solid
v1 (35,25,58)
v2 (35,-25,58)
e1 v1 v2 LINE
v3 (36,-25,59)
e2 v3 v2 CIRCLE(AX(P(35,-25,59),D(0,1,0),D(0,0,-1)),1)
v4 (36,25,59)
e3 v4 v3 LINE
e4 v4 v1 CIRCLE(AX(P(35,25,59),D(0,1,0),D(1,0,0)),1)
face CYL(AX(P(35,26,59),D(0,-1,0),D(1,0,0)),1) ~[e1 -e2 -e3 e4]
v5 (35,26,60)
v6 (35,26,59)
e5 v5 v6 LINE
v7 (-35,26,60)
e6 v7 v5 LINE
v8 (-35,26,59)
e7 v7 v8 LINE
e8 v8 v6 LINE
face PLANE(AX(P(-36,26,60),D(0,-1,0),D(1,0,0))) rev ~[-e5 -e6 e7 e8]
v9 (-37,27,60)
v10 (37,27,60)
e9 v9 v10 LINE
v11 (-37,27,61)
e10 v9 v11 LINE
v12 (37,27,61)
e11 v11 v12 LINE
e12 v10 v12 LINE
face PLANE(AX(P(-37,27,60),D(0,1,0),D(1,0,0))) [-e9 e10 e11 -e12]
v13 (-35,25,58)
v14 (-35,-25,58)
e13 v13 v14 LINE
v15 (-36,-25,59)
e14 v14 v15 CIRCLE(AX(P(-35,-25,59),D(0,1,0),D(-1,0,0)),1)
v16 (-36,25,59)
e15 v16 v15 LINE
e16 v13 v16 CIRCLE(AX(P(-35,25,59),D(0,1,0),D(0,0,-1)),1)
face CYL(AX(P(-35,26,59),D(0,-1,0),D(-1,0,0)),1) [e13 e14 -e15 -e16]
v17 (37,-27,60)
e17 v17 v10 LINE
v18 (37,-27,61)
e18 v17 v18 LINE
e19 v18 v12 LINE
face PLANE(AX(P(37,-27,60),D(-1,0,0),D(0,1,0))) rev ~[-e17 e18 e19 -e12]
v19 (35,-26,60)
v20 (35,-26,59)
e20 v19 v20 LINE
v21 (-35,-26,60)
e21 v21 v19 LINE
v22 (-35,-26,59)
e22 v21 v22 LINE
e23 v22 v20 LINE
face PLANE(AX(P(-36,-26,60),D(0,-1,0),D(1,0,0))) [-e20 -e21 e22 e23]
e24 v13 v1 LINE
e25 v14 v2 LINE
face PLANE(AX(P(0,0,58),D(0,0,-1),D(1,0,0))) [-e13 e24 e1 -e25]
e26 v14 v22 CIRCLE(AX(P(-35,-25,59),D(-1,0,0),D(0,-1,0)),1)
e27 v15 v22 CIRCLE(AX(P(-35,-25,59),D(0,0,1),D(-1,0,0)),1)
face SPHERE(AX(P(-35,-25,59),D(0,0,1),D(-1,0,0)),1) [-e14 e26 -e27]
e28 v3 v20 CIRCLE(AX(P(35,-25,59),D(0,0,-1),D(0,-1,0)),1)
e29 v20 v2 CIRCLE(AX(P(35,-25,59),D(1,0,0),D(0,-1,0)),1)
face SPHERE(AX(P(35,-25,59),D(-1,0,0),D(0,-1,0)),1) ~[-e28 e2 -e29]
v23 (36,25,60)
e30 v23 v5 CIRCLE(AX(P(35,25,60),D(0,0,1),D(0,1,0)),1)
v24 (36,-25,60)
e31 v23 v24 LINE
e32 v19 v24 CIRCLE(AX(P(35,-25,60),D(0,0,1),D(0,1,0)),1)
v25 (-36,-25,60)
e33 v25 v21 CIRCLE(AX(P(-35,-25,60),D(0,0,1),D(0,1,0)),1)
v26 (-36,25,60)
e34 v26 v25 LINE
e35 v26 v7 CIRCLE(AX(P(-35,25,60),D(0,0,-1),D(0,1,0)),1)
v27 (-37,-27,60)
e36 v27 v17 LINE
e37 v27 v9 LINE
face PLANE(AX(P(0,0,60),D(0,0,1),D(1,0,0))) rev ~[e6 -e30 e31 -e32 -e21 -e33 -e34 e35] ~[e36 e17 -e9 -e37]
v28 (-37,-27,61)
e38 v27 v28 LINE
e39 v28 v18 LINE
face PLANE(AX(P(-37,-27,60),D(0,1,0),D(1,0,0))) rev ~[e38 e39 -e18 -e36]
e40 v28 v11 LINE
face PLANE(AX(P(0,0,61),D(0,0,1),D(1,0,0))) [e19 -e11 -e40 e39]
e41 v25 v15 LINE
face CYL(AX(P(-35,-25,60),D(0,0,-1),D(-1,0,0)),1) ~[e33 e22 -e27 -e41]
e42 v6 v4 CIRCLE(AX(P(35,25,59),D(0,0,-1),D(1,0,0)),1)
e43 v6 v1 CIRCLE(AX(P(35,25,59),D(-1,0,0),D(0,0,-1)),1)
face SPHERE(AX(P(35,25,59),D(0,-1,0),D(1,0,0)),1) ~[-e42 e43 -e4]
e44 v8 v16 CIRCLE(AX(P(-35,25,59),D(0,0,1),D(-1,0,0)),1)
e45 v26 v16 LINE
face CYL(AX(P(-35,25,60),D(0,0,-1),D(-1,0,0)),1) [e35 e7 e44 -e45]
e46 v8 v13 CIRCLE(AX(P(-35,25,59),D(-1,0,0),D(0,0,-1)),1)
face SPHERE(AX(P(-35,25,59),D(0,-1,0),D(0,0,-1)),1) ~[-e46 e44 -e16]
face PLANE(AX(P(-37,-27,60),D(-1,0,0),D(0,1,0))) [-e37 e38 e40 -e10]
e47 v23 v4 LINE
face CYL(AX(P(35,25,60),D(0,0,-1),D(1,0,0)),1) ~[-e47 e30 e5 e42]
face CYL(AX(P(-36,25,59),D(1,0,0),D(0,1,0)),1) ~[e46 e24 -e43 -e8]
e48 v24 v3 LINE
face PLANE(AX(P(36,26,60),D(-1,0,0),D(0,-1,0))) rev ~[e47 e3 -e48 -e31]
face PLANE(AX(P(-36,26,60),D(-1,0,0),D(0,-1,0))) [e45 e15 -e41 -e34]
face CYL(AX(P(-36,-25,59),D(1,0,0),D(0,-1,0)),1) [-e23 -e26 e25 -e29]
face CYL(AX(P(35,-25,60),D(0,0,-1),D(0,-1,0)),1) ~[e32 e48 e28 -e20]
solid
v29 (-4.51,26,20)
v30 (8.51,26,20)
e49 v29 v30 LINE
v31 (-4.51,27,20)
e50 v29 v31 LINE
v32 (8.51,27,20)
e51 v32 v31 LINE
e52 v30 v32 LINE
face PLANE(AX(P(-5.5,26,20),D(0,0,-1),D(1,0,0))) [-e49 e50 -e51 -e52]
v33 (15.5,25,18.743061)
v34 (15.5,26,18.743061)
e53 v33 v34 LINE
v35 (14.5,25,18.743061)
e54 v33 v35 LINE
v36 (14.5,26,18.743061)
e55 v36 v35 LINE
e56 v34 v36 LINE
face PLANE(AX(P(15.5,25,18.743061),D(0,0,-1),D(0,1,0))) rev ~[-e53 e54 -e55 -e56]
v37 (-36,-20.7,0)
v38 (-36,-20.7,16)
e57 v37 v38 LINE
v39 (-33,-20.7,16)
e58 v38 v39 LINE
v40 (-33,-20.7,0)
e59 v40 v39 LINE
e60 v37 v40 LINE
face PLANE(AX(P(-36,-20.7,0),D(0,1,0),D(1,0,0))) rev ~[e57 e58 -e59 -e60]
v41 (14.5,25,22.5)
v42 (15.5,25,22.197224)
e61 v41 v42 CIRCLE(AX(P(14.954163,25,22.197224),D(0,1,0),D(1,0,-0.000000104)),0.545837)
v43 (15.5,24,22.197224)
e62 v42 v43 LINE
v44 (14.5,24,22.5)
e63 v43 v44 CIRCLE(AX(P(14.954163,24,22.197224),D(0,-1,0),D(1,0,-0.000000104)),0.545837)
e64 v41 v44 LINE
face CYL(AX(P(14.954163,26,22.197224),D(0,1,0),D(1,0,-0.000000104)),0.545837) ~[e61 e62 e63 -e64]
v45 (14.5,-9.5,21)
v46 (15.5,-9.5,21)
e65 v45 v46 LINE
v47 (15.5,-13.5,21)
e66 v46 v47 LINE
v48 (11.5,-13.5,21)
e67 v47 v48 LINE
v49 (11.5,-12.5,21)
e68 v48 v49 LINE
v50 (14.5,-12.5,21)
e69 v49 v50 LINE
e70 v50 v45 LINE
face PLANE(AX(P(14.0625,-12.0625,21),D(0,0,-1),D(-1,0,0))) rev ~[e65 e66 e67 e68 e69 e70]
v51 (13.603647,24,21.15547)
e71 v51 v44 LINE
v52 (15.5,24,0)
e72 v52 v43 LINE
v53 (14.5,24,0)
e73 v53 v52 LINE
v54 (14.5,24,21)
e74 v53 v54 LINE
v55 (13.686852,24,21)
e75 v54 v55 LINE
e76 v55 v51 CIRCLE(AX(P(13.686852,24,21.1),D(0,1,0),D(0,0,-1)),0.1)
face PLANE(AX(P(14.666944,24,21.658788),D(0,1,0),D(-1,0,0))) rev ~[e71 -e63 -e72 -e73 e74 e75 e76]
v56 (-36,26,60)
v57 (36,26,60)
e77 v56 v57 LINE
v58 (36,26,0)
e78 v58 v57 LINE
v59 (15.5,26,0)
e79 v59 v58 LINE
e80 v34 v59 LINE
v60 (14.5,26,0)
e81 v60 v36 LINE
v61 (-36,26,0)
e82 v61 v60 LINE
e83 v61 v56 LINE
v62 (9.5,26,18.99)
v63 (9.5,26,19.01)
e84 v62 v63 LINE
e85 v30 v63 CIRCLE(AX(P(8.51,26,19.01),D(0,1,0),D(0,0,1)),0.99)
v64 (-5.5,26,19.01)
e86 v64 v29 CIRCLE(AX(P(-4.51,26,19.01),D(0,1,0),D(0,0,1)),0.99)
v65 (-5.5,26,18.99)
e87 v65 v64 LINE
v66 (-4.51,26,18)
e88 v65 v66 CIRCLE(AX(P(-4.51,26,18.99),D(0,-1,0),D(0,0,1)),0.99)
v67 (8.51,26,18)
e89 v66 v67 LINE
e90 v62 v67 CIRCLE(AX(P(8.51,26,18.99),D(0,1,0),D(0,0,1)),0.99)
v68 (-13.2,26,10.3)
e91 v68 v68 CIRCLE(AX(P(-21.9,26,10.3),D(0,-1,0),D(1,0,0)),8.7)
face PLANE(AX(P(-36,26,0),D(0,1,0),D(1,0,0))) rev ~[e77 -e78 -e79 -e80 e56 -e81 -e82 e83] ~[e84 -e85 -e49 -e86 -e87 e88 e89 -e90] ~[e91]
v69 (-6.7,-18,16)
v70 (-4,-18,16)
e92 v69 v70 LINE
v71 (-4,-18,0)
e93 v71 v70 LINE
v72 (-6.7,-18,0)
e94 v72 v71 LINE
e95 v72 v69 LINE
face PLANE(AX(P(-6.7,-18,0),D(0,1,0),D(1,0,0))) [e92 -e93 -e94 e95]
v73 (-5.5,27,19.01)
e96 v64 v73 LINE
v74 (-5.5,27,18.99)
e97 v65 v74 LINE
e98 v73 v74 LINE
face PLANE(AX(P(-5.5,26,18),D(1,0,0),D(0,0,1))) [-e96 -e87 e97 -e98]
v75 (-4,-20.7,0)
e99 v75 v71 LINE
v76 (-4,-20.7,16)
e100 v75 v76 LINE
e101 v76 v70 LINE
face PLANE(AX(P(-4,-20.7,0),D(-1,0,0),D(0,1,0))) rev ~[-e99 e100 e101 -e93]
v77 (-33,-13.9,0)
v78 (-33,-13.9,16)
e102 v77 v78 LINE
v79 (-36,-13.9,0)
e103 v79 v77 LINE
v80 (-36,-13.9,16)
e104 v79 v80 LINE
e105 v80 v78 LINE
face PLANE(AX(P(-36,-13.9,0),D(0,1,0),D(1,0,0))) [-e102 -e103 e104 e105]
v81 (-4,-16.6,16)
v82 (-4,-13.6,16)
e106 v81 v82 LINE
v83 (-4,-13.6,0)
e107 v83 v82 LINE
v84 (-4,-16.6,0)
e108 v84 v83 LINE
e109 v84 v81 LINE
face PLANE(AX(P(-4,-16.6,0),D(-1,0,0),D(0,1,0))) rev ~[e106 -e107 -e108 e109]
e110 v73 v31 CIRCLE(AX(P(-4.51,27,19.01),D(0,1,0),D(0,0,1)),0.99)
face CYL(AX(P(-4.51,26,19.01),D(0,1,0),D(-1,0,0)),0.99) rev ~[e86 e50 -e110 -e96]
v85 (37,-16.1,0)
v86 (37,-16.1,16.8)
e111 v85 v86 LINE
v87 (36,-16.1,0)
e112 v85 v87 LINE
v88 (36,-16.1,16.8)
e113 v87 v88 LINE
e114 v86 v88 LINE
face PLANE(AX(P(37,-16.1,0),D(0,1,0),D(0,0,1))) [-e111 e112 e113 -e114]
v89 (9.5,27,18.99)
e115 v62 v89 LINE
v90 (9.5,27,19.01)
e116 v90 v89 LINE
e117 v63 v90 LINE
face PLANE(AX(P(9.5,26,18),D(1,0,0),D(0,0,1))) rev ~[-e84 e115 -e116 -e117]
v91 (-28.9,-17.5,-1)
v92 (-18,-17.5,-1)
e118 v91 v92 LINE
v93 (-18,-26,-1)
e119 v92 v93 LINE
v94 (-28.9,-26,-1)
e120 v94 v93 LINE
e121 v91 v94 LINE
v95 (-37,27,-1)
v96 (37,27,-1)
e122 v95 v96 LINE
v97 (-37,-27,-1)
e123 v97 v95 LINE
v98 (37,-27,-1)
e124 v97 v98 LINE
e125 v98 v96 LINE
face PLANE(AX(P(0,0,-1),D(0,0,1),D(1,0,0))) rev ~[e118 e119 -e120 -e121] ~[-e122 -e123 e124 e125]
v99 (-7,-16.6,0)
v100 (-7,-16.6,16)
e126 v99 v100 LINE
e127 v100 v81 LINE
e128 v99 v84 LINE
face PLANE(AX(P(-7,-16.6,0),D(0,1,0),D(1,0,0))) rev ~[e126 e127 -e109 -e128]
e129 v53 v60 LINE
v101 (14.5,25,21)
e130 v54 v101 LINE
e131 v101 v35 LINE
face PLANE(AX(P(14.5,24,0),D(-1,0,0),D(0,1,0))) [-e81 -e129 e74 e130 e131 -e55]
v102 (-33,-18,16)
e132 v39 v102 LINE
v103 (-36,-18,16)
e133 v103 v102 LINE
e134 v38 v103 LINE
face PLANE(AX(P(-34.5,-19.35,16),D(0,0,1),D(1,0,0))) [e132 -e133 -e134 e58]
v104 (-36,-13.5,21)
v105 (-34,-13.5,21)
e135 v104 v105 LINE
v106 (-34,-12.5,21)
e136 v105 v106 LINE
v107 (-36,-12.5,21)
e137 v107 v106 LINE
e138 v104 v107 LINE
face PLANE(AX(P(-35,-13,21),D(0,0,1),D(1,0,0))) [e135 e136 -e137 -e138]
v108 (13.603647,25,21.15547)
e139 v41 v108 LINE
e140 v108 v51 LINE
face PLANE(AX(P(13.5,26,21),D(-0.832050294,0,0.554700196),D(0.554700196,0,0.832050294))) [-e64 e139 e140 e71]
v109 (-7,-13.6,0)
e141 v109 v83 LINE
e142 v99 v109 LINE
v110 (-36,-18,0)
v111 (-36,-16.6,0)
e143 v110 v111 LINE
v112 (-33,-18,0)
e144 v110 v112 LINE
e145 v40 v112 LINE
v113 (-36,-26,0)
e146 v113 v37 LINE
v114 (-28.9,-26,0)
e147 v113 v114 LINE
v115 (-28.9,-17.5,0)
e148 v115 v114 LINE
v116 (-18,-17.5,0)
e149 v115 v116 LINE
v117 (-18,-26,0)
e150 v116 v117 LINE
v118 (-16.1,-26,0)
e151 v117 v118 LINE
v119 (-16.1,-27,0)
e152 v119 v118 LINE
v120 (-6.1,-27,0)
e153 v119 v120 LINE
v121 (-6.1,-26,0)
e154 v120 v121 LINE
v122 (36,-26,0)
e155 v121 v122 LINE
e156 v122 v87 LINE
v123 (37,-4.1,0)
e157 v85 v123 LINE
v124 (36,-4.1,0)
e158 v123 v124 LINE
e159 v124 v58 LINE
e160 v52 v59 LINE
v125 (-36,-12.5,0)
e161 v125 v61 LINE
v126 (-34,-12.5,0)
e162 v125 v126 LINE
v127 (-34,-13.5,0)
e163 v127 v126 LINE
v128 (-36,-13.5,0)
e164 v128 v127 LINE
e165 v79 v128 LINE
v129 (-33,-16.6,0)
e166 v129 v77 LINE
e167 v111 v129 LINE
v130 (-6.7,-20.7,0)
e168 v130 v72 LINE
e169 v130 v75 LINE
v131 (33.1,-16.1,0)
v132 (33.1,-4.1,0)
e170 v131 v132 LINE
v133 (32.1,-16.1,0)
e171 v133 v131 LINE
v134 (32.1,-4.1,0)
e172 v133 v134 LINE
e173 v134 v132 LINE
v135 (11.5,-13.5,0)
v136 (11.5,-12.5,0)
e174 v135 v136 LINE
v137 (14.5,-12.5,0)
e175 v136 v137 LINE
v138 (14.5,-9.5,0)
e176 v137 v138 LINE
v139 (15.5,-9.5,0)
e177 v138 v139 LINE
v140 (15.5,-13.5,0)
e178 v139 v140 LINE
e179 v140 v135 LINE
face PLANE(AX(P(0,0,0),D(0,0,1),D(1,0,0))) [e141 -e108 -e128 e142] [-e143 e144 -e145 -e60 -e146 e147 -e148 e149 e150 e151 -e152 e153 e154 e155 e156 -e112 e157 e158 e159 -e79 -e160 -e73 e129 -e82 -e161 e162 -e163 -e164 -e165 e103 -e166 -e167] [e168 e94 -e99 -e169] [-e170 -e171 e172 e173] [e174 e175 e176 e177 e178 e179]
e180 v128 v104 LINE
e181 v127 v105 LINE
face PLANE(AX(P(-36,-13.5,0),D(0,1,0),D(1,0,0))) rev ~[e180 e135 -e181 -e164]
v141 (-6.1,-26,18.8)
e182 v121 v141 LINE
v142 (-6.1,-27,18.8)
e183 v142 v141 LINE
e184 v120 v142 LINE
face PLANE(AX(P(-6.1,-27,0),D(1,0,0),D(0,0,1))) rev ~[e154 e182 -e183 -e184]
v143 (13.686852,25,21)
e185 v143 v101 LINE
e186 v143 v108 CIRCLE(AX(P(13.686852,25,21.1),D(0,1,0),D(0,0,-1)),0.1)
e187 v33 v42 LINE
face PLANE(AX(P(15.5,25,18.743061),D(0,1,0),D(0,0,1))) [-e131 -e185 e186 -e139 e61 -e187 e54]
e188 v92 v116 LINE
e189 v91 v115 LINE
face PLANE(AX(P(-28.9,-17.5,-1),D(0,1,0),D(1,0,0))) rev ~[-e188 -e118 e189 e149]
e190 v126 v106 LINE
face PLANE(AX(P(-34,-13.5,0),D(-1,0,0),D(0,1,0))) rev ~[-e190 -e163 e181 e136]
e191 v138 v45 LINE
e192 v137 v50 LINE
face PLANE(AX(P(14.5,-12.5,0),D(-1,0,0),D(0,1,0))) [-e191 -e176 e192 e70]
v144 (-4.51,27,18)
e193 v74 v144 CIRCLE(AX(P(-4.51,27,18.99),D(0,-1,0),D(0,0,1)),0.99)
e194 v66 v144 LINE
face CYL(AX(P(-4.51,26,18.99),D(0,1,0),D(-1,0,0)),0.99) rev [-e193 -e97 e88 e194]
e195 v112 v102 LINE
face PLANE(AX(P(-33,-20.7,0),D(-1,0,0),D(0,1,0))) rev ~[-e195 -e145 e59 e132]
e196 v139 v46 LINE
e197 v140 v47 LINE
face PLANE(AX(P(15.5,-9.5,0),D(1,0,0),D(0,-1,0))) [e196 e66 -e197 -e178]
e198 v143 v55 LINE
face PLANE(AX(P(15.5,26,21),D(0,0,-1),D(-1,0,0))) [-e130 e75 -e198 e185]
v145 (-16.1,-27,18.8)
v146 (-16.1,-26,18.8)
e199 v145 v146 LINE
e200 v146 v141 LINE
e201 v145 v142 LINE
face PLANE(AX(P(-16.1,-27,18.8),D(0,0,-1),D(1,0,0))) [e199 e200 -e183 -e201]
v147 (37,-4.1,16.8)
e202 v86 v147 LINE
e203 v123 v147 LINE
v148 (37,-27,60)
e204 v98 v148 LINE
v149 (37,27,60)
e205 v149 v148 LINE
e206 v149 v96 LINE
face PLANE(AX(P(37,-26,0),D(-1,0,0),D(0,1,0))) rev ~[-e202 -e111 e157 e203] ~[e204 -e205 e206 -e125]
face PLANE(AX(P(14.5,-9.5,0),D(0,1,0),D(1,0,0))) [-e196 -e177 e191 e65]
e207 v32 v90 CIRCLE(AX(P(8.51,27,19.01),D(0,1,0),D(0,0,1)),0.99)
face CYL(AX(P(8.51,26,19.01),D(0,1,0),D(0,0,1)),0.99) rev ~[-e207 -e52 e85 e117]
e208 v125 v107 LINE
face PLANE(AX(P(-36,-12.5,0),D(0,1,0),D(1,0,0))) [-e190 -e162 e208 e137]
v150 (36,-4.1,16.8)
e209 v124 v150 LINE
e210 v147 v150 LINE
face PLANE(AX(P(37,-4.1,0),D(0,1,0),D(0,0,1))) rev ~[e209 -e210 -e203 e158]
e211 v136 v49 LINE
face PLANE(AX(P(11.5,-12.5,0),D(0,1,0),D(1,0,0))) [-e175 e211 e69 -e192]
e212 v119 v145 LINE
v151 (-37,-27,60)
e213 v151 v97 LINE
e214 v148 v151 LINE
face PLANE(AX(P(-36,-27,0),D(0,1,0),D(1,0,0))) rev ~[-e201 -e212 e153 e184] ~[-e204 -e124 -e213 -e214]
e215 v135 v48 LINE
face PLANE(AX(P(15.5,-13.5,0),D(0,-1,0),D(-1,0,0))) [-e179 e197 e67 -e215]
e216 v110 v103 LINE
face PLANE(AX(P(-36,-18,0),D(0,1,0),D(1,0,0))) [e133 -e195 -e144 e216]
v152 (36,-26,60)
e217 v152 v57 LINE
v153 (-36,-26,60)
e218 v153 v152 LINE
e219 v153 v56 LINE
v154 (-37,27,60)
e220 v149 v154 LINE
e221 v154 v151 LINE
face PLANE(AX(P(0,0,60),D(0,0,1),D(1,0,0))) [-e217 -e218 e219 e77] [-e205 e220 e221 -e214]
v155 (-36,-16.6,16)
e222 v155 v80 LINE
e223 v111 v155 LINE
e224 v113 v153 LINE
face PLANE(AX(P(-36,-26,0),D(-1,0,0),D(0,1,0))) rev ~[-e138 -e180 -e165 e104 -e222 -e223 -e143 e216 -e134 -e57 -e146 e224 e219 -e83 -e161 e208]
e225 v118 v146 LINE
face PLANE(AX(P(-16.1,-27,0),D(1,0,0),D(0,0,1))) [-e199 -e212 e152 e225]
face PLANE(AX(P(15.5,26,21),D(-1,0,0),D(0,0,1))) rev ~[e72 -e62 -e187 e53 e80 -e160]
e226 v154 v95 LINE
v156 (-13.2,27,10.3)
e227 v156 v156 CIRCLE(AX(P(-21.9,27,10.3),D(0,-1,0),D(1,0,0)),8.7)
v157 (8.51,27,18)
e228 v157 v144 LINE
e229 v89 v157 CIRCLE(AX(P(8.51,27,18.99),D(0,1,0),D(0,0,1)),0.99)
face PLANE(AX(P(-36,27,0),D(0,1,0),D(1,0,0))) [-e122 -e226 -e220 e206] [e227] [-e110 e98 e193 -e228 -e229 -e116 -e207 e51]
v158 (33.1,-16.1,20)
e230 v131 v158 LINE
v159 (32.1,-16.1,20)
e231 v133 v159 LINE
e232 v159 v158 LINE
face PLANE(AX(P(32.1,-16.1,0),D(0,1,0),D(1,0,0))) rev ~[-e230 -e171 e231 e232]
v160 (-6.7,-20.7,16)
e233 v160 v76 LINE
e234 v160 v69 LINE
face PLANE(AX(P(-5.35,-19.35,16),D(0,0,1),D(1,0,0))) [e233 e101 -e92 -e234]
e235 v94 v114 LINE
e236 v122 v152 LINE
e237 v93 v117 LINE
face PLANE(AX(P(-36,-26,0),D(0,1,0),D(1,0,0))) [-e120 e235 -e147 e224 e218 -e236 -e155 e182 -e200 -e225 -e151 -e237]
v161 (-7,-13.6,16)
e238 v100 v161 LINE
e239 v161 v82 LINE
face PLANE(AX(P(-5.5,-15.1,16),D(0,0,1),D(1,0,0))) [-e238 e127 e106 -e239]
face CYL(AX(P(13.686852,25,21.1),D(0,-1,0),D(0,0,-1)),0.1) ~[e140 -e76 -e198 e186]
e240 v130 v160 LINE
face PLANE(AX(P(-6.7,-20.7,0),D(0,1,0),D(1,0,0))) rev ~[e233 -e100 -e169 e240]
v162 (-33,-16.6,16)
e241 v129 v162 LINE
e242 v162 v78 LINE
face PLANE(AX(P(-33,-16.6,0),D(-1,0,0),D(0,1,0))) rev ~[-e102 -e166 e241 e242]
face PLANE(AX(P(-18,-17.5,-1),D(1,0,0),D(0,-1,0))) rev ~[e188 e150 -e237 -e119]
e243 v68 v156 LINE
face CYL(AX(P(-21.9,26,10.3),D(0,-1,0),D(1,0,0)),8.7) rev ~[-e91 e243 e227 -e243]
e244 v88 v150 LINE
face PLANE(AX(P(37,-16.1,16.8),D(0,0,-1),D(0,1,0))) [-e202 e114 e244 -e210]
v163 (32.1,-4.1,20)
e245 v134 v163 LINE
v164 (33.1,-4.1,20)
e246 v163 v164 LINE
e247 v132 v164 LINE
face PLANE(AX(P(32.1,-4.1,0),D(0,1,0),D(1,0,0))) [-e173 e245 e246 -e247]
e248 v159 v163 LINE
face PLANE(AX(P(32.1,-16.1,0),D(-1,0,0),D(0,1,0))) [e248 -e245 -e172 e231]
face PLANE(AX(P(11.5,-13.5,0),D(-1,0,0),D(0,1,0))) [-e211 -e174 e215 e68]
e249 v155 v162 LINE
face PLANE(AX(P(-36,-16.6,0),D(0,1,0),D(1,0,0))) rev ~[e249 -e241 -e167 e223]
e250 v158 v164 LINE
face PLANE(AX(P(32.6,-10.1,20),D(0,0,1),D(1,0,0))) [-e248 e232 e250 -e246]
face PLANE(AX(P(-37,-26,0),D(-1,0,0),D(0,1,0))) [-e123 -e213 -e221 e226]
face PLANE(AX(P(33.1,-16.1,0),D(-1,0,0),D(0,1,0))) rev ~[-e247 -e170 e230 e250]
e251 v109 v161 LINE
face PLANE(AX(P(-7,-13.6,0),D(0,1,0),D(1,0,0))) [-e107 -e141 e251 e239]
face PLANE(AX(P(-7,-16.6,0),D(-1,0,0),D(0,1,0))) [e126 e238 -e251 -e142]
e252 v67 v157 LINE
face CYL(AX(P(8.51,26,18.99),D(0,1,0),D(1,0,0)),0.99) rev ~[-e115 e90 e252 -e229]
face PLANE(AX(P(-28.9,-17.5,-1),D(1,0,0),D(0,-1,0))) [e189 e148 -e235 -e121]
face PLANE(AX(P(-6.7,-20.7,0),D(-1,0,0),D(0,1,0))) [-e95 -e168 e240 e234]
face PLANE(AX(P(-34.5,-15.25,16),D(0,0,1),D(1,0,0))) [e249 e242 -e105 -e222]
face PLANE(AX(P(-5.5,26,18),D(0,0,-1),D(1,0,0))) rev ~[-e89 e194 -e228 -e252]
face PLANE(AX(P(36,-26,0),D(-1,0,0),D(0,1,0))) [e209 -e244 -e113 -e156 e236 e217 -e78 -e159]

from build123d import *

# Parameters (mm, degrees)
SKETCH_W        = 72
SKETCH_H        = 52
PAD_DEPTH       = 60
THICKNESS_T     = 1
SKETCH002_W     = 1
SKETCH002_H     = 2
SKETCH002_W_2   = 2
SKETCH002_H_2   = 1
PAD001_DEPTH    = 21
SKETCH003_R     = 8.7
SKETCH003_W     = 15
SKETCH003_H     = 2
POCKET_DEPTH    = 5
FILLET_R        = 0.99
PAD002_DEPTH    = 2
SKETCH005_W     = 1
SKETCH005_H     = 4
POCKET001_DEPTH = 2
FILLET001_R     = 0.1
SKETCH006_W     = 2.7
SKETCH006_H     = 2.7
SKETCH006_W_2   = 3
SKETCH006_H_2   = 3
PAD003_DEPTH    = 16
SKETCH011_W     = 10
SKETCH011_H     = 18.8
POCKET002_DEPTH = 1
SKETCH012_W     = 10.9
SKETCH012_H     = 8.5
POCKET003_DEPTH = 1
SKETCH013_W     = 12
SKETCH013_H     = 16.8
POCKET004_DEPTH = 1
SKETCH014_W     = 1
SKETCH014_H     = 12
PAD006_DEPTH    = 20
SKETCH009_W     = 74
SKETCH009_H     = 54
PAD004_DEPTH    = 1
SKETCH010_W     = 72
SKETCH010_H     = 52
PAD005_DEPTH    = 2
FILLET002_R     = 1


with BuildPart() as box:
    # Sketch → Pad (new body)
    with BuildSketch(Plane.XY):
        Rectangle(SKETCH_W, SKETCH_H)
    extrude(amount=PAD_DEPTH)

    # Thickness
    thickness_openings = [box.faces().sort_by_distance(p)[0] for p in [
        (0, 0, 60),
    ]]
    offset(amount=THICKNESS_T, openings=thickness_openings, kind=Kind.INTERSECTION)

    # Sketch002 (on Face5 of Thickness) → Pad001 (join)
    with BuildSketch(Plane.XY):
        Polygon((15.5, -13.5), (11.5, -13.5), (11.5, -12.5), (14.5, -12.5), (14.5, -9.5), (15.5, -9.5), align=None)
        with Locations((15, 25)):
            Rectangle(SKETCH002_W, SKETCH002_H)
        with Locations((-35, -13)):
            Rectangle(SKETCH002_W_2, SKETCH002_H_2)
    extrude(amount=PAD001_DEPTH)

    # Sketch003 (on Face1 of Pad001) → Pocket (cut)
    with BuildSketch(Plane.XZ.offset(-26)):
        with Locations((-21.9, 10.3)):
            Circle(SKETCH003_R)
        with Locations((2, 19)):
            Rectangle(SKETCH003_W, SKETCH003_H)
    extrude(amount=-POCKET_DEPTH, mode=Mode.SUBTRACT)

    # Fillet
    fillet_edges = [box.edges().sort_by_distance(p)[0] for p in [
        (-5.5, 26.5, 18),
        (-5.5, 26.5, 20),
        (9.5, 26.5, 20),
        (9.5, 26.5, 18),
    ]]
    fillet(fillet_edges, radius=FILLET_R)

    # Sketch004 (on Face1 of Fillet) → Pad002 (join)
    with BuildSketch(Plane.XZ.offset(-26)):
        with BuildLine():
            Line((15.5, 21), (13.5, 21))
            Line((13.5, 21), (14.5, 22.5))
            ThreePointArc((15.5, 22.197224), (15.112338, 22.71964), (14.5, 22.5))
            Line((15.5, 21), (15.5, 22.197224))
        make_face()
    extrude(amount=PAD002_DEPTH)

    # Sketch005 (on Face8 of Pad002) → Pocket001 (cut)
    with BuildSketch(Plane.YZ.offset(15.5)):
        with Locations((25.5, 20.743061)):
            Rectangle(SKETCH005_W, SKETCH005_H)
    extrude(amount=-POCKET001_DEPTH, mode=Mode.SUBTRACT)

    # Fillet001
    fillet001_edges = [box.edges().sort_by_distance(p)[0] for p in [
        (13.5, 24.5, 21),
    ]]
    fillet(fillet001_edges, radius=FILLET001_R)

    # Sketch006 (on Face11 of Fillet001) → Pad003 (join)
    with BuildSketch(Plane.XY):
        with Locations((-5.35, -19.35)):
            Rectangle(SKETCH006_W, SKETCH006_H)
        with Locations((-34.5, -19.35)):
            Rectangle(SKETCH006_W_2, SKETCH006_H)
        with Locations((-34.5, -15.25)):
            Rectangle(SKETCH006_W_2, SKETCH006_H)
        with Locations((-5.5, -15.1)):
            Rectangle(SKETCH006_W_2, SKETCH006_H_2)
    extrude(amount=PAD003_DEPTH)

    # Sketch011 (on Face62 of Pad003) → Pocket002 (cut)
    with BuildSketch(Plane.XZ.offset(27)):
        with Locations((-11.1, 9.4)):
            Rectangle(SKETCH011_W, SKETCH011_H)
    extrude(amount=-POCKET002_DEPTH, mode=Mode.SUBTRACT)

    # Sketch012 (on Face68 of Pocket002) → Pocket003 (cut)
    with BuildSketch(Plane(origin=(0, 0, -1), x_dir=(1, 0, 0), z_dir=(0, 0, -1))):
        with Locations((-23.45, 21.75)):
            Rectangle(SKETCH012_W, SKETCH012_H)
    extrude(amount=-POCKET003_DEPTH, mode=Mode.SUBTRACT)

    # Sketch013 (on Face72 of Pocket003) → Pocket004 (cut)
    with BuildSketch(Plane.YZ.offset(37)):
        with Locations((-10.1, 8.4)):
            Rectangle(SKETCH013_W, SKETCH013_H)
    extrude(amount=-POCKET004_DEPTH, mode=Mode.SUBTRACT)

    # Sketch014 (on Face11 of Pocket004) → Pad006 (join)
    with BuildSketch(Plane.XY):
        with Locations((32.6, -10.1)):
            Rectangle(SKETCH014_W, SKETCH014_H)
    extrude(amount=PAD006_DEPTH)


with BuildPart() as lid:
    # Sketch009 (on ShapeBinder) → Pad004 (new body)
    with BuildSketch(Plane.XY.offset(60)):
        Rectangle(SKETCH009_W, SKETCH009_H)
    extrude(amount=PAD004_DEPTH)

    # Sketch010 (on Face5 of Pad004) → Pad005 (join)
    with BuildSketch(Plane(origin=(0, 0, 60), x_dir=(1, 0, 0), z_dir=(0, 0, -1))):
        Rectangle(SKETCH010_W, SKETCH010_H)
    extrude(amount=PAD005_DEPTH)

    # Fillet002
    fillet002_edges = [lid.edges().sort_by_distance(p)[0] for p in [
        (-36, -26, 59),
        (-36, 0, 58),
        (0, -26, 58),
        (36, -26, 59),
        (36, 0, 58),
        (36, 26, 59),
        (0, 26, 58),
        (-36, 26, 59),
    ]]
    fillet(fillet002_edges, radius=FILLET002_R)


solid = Compound([box.part, lid.part])
